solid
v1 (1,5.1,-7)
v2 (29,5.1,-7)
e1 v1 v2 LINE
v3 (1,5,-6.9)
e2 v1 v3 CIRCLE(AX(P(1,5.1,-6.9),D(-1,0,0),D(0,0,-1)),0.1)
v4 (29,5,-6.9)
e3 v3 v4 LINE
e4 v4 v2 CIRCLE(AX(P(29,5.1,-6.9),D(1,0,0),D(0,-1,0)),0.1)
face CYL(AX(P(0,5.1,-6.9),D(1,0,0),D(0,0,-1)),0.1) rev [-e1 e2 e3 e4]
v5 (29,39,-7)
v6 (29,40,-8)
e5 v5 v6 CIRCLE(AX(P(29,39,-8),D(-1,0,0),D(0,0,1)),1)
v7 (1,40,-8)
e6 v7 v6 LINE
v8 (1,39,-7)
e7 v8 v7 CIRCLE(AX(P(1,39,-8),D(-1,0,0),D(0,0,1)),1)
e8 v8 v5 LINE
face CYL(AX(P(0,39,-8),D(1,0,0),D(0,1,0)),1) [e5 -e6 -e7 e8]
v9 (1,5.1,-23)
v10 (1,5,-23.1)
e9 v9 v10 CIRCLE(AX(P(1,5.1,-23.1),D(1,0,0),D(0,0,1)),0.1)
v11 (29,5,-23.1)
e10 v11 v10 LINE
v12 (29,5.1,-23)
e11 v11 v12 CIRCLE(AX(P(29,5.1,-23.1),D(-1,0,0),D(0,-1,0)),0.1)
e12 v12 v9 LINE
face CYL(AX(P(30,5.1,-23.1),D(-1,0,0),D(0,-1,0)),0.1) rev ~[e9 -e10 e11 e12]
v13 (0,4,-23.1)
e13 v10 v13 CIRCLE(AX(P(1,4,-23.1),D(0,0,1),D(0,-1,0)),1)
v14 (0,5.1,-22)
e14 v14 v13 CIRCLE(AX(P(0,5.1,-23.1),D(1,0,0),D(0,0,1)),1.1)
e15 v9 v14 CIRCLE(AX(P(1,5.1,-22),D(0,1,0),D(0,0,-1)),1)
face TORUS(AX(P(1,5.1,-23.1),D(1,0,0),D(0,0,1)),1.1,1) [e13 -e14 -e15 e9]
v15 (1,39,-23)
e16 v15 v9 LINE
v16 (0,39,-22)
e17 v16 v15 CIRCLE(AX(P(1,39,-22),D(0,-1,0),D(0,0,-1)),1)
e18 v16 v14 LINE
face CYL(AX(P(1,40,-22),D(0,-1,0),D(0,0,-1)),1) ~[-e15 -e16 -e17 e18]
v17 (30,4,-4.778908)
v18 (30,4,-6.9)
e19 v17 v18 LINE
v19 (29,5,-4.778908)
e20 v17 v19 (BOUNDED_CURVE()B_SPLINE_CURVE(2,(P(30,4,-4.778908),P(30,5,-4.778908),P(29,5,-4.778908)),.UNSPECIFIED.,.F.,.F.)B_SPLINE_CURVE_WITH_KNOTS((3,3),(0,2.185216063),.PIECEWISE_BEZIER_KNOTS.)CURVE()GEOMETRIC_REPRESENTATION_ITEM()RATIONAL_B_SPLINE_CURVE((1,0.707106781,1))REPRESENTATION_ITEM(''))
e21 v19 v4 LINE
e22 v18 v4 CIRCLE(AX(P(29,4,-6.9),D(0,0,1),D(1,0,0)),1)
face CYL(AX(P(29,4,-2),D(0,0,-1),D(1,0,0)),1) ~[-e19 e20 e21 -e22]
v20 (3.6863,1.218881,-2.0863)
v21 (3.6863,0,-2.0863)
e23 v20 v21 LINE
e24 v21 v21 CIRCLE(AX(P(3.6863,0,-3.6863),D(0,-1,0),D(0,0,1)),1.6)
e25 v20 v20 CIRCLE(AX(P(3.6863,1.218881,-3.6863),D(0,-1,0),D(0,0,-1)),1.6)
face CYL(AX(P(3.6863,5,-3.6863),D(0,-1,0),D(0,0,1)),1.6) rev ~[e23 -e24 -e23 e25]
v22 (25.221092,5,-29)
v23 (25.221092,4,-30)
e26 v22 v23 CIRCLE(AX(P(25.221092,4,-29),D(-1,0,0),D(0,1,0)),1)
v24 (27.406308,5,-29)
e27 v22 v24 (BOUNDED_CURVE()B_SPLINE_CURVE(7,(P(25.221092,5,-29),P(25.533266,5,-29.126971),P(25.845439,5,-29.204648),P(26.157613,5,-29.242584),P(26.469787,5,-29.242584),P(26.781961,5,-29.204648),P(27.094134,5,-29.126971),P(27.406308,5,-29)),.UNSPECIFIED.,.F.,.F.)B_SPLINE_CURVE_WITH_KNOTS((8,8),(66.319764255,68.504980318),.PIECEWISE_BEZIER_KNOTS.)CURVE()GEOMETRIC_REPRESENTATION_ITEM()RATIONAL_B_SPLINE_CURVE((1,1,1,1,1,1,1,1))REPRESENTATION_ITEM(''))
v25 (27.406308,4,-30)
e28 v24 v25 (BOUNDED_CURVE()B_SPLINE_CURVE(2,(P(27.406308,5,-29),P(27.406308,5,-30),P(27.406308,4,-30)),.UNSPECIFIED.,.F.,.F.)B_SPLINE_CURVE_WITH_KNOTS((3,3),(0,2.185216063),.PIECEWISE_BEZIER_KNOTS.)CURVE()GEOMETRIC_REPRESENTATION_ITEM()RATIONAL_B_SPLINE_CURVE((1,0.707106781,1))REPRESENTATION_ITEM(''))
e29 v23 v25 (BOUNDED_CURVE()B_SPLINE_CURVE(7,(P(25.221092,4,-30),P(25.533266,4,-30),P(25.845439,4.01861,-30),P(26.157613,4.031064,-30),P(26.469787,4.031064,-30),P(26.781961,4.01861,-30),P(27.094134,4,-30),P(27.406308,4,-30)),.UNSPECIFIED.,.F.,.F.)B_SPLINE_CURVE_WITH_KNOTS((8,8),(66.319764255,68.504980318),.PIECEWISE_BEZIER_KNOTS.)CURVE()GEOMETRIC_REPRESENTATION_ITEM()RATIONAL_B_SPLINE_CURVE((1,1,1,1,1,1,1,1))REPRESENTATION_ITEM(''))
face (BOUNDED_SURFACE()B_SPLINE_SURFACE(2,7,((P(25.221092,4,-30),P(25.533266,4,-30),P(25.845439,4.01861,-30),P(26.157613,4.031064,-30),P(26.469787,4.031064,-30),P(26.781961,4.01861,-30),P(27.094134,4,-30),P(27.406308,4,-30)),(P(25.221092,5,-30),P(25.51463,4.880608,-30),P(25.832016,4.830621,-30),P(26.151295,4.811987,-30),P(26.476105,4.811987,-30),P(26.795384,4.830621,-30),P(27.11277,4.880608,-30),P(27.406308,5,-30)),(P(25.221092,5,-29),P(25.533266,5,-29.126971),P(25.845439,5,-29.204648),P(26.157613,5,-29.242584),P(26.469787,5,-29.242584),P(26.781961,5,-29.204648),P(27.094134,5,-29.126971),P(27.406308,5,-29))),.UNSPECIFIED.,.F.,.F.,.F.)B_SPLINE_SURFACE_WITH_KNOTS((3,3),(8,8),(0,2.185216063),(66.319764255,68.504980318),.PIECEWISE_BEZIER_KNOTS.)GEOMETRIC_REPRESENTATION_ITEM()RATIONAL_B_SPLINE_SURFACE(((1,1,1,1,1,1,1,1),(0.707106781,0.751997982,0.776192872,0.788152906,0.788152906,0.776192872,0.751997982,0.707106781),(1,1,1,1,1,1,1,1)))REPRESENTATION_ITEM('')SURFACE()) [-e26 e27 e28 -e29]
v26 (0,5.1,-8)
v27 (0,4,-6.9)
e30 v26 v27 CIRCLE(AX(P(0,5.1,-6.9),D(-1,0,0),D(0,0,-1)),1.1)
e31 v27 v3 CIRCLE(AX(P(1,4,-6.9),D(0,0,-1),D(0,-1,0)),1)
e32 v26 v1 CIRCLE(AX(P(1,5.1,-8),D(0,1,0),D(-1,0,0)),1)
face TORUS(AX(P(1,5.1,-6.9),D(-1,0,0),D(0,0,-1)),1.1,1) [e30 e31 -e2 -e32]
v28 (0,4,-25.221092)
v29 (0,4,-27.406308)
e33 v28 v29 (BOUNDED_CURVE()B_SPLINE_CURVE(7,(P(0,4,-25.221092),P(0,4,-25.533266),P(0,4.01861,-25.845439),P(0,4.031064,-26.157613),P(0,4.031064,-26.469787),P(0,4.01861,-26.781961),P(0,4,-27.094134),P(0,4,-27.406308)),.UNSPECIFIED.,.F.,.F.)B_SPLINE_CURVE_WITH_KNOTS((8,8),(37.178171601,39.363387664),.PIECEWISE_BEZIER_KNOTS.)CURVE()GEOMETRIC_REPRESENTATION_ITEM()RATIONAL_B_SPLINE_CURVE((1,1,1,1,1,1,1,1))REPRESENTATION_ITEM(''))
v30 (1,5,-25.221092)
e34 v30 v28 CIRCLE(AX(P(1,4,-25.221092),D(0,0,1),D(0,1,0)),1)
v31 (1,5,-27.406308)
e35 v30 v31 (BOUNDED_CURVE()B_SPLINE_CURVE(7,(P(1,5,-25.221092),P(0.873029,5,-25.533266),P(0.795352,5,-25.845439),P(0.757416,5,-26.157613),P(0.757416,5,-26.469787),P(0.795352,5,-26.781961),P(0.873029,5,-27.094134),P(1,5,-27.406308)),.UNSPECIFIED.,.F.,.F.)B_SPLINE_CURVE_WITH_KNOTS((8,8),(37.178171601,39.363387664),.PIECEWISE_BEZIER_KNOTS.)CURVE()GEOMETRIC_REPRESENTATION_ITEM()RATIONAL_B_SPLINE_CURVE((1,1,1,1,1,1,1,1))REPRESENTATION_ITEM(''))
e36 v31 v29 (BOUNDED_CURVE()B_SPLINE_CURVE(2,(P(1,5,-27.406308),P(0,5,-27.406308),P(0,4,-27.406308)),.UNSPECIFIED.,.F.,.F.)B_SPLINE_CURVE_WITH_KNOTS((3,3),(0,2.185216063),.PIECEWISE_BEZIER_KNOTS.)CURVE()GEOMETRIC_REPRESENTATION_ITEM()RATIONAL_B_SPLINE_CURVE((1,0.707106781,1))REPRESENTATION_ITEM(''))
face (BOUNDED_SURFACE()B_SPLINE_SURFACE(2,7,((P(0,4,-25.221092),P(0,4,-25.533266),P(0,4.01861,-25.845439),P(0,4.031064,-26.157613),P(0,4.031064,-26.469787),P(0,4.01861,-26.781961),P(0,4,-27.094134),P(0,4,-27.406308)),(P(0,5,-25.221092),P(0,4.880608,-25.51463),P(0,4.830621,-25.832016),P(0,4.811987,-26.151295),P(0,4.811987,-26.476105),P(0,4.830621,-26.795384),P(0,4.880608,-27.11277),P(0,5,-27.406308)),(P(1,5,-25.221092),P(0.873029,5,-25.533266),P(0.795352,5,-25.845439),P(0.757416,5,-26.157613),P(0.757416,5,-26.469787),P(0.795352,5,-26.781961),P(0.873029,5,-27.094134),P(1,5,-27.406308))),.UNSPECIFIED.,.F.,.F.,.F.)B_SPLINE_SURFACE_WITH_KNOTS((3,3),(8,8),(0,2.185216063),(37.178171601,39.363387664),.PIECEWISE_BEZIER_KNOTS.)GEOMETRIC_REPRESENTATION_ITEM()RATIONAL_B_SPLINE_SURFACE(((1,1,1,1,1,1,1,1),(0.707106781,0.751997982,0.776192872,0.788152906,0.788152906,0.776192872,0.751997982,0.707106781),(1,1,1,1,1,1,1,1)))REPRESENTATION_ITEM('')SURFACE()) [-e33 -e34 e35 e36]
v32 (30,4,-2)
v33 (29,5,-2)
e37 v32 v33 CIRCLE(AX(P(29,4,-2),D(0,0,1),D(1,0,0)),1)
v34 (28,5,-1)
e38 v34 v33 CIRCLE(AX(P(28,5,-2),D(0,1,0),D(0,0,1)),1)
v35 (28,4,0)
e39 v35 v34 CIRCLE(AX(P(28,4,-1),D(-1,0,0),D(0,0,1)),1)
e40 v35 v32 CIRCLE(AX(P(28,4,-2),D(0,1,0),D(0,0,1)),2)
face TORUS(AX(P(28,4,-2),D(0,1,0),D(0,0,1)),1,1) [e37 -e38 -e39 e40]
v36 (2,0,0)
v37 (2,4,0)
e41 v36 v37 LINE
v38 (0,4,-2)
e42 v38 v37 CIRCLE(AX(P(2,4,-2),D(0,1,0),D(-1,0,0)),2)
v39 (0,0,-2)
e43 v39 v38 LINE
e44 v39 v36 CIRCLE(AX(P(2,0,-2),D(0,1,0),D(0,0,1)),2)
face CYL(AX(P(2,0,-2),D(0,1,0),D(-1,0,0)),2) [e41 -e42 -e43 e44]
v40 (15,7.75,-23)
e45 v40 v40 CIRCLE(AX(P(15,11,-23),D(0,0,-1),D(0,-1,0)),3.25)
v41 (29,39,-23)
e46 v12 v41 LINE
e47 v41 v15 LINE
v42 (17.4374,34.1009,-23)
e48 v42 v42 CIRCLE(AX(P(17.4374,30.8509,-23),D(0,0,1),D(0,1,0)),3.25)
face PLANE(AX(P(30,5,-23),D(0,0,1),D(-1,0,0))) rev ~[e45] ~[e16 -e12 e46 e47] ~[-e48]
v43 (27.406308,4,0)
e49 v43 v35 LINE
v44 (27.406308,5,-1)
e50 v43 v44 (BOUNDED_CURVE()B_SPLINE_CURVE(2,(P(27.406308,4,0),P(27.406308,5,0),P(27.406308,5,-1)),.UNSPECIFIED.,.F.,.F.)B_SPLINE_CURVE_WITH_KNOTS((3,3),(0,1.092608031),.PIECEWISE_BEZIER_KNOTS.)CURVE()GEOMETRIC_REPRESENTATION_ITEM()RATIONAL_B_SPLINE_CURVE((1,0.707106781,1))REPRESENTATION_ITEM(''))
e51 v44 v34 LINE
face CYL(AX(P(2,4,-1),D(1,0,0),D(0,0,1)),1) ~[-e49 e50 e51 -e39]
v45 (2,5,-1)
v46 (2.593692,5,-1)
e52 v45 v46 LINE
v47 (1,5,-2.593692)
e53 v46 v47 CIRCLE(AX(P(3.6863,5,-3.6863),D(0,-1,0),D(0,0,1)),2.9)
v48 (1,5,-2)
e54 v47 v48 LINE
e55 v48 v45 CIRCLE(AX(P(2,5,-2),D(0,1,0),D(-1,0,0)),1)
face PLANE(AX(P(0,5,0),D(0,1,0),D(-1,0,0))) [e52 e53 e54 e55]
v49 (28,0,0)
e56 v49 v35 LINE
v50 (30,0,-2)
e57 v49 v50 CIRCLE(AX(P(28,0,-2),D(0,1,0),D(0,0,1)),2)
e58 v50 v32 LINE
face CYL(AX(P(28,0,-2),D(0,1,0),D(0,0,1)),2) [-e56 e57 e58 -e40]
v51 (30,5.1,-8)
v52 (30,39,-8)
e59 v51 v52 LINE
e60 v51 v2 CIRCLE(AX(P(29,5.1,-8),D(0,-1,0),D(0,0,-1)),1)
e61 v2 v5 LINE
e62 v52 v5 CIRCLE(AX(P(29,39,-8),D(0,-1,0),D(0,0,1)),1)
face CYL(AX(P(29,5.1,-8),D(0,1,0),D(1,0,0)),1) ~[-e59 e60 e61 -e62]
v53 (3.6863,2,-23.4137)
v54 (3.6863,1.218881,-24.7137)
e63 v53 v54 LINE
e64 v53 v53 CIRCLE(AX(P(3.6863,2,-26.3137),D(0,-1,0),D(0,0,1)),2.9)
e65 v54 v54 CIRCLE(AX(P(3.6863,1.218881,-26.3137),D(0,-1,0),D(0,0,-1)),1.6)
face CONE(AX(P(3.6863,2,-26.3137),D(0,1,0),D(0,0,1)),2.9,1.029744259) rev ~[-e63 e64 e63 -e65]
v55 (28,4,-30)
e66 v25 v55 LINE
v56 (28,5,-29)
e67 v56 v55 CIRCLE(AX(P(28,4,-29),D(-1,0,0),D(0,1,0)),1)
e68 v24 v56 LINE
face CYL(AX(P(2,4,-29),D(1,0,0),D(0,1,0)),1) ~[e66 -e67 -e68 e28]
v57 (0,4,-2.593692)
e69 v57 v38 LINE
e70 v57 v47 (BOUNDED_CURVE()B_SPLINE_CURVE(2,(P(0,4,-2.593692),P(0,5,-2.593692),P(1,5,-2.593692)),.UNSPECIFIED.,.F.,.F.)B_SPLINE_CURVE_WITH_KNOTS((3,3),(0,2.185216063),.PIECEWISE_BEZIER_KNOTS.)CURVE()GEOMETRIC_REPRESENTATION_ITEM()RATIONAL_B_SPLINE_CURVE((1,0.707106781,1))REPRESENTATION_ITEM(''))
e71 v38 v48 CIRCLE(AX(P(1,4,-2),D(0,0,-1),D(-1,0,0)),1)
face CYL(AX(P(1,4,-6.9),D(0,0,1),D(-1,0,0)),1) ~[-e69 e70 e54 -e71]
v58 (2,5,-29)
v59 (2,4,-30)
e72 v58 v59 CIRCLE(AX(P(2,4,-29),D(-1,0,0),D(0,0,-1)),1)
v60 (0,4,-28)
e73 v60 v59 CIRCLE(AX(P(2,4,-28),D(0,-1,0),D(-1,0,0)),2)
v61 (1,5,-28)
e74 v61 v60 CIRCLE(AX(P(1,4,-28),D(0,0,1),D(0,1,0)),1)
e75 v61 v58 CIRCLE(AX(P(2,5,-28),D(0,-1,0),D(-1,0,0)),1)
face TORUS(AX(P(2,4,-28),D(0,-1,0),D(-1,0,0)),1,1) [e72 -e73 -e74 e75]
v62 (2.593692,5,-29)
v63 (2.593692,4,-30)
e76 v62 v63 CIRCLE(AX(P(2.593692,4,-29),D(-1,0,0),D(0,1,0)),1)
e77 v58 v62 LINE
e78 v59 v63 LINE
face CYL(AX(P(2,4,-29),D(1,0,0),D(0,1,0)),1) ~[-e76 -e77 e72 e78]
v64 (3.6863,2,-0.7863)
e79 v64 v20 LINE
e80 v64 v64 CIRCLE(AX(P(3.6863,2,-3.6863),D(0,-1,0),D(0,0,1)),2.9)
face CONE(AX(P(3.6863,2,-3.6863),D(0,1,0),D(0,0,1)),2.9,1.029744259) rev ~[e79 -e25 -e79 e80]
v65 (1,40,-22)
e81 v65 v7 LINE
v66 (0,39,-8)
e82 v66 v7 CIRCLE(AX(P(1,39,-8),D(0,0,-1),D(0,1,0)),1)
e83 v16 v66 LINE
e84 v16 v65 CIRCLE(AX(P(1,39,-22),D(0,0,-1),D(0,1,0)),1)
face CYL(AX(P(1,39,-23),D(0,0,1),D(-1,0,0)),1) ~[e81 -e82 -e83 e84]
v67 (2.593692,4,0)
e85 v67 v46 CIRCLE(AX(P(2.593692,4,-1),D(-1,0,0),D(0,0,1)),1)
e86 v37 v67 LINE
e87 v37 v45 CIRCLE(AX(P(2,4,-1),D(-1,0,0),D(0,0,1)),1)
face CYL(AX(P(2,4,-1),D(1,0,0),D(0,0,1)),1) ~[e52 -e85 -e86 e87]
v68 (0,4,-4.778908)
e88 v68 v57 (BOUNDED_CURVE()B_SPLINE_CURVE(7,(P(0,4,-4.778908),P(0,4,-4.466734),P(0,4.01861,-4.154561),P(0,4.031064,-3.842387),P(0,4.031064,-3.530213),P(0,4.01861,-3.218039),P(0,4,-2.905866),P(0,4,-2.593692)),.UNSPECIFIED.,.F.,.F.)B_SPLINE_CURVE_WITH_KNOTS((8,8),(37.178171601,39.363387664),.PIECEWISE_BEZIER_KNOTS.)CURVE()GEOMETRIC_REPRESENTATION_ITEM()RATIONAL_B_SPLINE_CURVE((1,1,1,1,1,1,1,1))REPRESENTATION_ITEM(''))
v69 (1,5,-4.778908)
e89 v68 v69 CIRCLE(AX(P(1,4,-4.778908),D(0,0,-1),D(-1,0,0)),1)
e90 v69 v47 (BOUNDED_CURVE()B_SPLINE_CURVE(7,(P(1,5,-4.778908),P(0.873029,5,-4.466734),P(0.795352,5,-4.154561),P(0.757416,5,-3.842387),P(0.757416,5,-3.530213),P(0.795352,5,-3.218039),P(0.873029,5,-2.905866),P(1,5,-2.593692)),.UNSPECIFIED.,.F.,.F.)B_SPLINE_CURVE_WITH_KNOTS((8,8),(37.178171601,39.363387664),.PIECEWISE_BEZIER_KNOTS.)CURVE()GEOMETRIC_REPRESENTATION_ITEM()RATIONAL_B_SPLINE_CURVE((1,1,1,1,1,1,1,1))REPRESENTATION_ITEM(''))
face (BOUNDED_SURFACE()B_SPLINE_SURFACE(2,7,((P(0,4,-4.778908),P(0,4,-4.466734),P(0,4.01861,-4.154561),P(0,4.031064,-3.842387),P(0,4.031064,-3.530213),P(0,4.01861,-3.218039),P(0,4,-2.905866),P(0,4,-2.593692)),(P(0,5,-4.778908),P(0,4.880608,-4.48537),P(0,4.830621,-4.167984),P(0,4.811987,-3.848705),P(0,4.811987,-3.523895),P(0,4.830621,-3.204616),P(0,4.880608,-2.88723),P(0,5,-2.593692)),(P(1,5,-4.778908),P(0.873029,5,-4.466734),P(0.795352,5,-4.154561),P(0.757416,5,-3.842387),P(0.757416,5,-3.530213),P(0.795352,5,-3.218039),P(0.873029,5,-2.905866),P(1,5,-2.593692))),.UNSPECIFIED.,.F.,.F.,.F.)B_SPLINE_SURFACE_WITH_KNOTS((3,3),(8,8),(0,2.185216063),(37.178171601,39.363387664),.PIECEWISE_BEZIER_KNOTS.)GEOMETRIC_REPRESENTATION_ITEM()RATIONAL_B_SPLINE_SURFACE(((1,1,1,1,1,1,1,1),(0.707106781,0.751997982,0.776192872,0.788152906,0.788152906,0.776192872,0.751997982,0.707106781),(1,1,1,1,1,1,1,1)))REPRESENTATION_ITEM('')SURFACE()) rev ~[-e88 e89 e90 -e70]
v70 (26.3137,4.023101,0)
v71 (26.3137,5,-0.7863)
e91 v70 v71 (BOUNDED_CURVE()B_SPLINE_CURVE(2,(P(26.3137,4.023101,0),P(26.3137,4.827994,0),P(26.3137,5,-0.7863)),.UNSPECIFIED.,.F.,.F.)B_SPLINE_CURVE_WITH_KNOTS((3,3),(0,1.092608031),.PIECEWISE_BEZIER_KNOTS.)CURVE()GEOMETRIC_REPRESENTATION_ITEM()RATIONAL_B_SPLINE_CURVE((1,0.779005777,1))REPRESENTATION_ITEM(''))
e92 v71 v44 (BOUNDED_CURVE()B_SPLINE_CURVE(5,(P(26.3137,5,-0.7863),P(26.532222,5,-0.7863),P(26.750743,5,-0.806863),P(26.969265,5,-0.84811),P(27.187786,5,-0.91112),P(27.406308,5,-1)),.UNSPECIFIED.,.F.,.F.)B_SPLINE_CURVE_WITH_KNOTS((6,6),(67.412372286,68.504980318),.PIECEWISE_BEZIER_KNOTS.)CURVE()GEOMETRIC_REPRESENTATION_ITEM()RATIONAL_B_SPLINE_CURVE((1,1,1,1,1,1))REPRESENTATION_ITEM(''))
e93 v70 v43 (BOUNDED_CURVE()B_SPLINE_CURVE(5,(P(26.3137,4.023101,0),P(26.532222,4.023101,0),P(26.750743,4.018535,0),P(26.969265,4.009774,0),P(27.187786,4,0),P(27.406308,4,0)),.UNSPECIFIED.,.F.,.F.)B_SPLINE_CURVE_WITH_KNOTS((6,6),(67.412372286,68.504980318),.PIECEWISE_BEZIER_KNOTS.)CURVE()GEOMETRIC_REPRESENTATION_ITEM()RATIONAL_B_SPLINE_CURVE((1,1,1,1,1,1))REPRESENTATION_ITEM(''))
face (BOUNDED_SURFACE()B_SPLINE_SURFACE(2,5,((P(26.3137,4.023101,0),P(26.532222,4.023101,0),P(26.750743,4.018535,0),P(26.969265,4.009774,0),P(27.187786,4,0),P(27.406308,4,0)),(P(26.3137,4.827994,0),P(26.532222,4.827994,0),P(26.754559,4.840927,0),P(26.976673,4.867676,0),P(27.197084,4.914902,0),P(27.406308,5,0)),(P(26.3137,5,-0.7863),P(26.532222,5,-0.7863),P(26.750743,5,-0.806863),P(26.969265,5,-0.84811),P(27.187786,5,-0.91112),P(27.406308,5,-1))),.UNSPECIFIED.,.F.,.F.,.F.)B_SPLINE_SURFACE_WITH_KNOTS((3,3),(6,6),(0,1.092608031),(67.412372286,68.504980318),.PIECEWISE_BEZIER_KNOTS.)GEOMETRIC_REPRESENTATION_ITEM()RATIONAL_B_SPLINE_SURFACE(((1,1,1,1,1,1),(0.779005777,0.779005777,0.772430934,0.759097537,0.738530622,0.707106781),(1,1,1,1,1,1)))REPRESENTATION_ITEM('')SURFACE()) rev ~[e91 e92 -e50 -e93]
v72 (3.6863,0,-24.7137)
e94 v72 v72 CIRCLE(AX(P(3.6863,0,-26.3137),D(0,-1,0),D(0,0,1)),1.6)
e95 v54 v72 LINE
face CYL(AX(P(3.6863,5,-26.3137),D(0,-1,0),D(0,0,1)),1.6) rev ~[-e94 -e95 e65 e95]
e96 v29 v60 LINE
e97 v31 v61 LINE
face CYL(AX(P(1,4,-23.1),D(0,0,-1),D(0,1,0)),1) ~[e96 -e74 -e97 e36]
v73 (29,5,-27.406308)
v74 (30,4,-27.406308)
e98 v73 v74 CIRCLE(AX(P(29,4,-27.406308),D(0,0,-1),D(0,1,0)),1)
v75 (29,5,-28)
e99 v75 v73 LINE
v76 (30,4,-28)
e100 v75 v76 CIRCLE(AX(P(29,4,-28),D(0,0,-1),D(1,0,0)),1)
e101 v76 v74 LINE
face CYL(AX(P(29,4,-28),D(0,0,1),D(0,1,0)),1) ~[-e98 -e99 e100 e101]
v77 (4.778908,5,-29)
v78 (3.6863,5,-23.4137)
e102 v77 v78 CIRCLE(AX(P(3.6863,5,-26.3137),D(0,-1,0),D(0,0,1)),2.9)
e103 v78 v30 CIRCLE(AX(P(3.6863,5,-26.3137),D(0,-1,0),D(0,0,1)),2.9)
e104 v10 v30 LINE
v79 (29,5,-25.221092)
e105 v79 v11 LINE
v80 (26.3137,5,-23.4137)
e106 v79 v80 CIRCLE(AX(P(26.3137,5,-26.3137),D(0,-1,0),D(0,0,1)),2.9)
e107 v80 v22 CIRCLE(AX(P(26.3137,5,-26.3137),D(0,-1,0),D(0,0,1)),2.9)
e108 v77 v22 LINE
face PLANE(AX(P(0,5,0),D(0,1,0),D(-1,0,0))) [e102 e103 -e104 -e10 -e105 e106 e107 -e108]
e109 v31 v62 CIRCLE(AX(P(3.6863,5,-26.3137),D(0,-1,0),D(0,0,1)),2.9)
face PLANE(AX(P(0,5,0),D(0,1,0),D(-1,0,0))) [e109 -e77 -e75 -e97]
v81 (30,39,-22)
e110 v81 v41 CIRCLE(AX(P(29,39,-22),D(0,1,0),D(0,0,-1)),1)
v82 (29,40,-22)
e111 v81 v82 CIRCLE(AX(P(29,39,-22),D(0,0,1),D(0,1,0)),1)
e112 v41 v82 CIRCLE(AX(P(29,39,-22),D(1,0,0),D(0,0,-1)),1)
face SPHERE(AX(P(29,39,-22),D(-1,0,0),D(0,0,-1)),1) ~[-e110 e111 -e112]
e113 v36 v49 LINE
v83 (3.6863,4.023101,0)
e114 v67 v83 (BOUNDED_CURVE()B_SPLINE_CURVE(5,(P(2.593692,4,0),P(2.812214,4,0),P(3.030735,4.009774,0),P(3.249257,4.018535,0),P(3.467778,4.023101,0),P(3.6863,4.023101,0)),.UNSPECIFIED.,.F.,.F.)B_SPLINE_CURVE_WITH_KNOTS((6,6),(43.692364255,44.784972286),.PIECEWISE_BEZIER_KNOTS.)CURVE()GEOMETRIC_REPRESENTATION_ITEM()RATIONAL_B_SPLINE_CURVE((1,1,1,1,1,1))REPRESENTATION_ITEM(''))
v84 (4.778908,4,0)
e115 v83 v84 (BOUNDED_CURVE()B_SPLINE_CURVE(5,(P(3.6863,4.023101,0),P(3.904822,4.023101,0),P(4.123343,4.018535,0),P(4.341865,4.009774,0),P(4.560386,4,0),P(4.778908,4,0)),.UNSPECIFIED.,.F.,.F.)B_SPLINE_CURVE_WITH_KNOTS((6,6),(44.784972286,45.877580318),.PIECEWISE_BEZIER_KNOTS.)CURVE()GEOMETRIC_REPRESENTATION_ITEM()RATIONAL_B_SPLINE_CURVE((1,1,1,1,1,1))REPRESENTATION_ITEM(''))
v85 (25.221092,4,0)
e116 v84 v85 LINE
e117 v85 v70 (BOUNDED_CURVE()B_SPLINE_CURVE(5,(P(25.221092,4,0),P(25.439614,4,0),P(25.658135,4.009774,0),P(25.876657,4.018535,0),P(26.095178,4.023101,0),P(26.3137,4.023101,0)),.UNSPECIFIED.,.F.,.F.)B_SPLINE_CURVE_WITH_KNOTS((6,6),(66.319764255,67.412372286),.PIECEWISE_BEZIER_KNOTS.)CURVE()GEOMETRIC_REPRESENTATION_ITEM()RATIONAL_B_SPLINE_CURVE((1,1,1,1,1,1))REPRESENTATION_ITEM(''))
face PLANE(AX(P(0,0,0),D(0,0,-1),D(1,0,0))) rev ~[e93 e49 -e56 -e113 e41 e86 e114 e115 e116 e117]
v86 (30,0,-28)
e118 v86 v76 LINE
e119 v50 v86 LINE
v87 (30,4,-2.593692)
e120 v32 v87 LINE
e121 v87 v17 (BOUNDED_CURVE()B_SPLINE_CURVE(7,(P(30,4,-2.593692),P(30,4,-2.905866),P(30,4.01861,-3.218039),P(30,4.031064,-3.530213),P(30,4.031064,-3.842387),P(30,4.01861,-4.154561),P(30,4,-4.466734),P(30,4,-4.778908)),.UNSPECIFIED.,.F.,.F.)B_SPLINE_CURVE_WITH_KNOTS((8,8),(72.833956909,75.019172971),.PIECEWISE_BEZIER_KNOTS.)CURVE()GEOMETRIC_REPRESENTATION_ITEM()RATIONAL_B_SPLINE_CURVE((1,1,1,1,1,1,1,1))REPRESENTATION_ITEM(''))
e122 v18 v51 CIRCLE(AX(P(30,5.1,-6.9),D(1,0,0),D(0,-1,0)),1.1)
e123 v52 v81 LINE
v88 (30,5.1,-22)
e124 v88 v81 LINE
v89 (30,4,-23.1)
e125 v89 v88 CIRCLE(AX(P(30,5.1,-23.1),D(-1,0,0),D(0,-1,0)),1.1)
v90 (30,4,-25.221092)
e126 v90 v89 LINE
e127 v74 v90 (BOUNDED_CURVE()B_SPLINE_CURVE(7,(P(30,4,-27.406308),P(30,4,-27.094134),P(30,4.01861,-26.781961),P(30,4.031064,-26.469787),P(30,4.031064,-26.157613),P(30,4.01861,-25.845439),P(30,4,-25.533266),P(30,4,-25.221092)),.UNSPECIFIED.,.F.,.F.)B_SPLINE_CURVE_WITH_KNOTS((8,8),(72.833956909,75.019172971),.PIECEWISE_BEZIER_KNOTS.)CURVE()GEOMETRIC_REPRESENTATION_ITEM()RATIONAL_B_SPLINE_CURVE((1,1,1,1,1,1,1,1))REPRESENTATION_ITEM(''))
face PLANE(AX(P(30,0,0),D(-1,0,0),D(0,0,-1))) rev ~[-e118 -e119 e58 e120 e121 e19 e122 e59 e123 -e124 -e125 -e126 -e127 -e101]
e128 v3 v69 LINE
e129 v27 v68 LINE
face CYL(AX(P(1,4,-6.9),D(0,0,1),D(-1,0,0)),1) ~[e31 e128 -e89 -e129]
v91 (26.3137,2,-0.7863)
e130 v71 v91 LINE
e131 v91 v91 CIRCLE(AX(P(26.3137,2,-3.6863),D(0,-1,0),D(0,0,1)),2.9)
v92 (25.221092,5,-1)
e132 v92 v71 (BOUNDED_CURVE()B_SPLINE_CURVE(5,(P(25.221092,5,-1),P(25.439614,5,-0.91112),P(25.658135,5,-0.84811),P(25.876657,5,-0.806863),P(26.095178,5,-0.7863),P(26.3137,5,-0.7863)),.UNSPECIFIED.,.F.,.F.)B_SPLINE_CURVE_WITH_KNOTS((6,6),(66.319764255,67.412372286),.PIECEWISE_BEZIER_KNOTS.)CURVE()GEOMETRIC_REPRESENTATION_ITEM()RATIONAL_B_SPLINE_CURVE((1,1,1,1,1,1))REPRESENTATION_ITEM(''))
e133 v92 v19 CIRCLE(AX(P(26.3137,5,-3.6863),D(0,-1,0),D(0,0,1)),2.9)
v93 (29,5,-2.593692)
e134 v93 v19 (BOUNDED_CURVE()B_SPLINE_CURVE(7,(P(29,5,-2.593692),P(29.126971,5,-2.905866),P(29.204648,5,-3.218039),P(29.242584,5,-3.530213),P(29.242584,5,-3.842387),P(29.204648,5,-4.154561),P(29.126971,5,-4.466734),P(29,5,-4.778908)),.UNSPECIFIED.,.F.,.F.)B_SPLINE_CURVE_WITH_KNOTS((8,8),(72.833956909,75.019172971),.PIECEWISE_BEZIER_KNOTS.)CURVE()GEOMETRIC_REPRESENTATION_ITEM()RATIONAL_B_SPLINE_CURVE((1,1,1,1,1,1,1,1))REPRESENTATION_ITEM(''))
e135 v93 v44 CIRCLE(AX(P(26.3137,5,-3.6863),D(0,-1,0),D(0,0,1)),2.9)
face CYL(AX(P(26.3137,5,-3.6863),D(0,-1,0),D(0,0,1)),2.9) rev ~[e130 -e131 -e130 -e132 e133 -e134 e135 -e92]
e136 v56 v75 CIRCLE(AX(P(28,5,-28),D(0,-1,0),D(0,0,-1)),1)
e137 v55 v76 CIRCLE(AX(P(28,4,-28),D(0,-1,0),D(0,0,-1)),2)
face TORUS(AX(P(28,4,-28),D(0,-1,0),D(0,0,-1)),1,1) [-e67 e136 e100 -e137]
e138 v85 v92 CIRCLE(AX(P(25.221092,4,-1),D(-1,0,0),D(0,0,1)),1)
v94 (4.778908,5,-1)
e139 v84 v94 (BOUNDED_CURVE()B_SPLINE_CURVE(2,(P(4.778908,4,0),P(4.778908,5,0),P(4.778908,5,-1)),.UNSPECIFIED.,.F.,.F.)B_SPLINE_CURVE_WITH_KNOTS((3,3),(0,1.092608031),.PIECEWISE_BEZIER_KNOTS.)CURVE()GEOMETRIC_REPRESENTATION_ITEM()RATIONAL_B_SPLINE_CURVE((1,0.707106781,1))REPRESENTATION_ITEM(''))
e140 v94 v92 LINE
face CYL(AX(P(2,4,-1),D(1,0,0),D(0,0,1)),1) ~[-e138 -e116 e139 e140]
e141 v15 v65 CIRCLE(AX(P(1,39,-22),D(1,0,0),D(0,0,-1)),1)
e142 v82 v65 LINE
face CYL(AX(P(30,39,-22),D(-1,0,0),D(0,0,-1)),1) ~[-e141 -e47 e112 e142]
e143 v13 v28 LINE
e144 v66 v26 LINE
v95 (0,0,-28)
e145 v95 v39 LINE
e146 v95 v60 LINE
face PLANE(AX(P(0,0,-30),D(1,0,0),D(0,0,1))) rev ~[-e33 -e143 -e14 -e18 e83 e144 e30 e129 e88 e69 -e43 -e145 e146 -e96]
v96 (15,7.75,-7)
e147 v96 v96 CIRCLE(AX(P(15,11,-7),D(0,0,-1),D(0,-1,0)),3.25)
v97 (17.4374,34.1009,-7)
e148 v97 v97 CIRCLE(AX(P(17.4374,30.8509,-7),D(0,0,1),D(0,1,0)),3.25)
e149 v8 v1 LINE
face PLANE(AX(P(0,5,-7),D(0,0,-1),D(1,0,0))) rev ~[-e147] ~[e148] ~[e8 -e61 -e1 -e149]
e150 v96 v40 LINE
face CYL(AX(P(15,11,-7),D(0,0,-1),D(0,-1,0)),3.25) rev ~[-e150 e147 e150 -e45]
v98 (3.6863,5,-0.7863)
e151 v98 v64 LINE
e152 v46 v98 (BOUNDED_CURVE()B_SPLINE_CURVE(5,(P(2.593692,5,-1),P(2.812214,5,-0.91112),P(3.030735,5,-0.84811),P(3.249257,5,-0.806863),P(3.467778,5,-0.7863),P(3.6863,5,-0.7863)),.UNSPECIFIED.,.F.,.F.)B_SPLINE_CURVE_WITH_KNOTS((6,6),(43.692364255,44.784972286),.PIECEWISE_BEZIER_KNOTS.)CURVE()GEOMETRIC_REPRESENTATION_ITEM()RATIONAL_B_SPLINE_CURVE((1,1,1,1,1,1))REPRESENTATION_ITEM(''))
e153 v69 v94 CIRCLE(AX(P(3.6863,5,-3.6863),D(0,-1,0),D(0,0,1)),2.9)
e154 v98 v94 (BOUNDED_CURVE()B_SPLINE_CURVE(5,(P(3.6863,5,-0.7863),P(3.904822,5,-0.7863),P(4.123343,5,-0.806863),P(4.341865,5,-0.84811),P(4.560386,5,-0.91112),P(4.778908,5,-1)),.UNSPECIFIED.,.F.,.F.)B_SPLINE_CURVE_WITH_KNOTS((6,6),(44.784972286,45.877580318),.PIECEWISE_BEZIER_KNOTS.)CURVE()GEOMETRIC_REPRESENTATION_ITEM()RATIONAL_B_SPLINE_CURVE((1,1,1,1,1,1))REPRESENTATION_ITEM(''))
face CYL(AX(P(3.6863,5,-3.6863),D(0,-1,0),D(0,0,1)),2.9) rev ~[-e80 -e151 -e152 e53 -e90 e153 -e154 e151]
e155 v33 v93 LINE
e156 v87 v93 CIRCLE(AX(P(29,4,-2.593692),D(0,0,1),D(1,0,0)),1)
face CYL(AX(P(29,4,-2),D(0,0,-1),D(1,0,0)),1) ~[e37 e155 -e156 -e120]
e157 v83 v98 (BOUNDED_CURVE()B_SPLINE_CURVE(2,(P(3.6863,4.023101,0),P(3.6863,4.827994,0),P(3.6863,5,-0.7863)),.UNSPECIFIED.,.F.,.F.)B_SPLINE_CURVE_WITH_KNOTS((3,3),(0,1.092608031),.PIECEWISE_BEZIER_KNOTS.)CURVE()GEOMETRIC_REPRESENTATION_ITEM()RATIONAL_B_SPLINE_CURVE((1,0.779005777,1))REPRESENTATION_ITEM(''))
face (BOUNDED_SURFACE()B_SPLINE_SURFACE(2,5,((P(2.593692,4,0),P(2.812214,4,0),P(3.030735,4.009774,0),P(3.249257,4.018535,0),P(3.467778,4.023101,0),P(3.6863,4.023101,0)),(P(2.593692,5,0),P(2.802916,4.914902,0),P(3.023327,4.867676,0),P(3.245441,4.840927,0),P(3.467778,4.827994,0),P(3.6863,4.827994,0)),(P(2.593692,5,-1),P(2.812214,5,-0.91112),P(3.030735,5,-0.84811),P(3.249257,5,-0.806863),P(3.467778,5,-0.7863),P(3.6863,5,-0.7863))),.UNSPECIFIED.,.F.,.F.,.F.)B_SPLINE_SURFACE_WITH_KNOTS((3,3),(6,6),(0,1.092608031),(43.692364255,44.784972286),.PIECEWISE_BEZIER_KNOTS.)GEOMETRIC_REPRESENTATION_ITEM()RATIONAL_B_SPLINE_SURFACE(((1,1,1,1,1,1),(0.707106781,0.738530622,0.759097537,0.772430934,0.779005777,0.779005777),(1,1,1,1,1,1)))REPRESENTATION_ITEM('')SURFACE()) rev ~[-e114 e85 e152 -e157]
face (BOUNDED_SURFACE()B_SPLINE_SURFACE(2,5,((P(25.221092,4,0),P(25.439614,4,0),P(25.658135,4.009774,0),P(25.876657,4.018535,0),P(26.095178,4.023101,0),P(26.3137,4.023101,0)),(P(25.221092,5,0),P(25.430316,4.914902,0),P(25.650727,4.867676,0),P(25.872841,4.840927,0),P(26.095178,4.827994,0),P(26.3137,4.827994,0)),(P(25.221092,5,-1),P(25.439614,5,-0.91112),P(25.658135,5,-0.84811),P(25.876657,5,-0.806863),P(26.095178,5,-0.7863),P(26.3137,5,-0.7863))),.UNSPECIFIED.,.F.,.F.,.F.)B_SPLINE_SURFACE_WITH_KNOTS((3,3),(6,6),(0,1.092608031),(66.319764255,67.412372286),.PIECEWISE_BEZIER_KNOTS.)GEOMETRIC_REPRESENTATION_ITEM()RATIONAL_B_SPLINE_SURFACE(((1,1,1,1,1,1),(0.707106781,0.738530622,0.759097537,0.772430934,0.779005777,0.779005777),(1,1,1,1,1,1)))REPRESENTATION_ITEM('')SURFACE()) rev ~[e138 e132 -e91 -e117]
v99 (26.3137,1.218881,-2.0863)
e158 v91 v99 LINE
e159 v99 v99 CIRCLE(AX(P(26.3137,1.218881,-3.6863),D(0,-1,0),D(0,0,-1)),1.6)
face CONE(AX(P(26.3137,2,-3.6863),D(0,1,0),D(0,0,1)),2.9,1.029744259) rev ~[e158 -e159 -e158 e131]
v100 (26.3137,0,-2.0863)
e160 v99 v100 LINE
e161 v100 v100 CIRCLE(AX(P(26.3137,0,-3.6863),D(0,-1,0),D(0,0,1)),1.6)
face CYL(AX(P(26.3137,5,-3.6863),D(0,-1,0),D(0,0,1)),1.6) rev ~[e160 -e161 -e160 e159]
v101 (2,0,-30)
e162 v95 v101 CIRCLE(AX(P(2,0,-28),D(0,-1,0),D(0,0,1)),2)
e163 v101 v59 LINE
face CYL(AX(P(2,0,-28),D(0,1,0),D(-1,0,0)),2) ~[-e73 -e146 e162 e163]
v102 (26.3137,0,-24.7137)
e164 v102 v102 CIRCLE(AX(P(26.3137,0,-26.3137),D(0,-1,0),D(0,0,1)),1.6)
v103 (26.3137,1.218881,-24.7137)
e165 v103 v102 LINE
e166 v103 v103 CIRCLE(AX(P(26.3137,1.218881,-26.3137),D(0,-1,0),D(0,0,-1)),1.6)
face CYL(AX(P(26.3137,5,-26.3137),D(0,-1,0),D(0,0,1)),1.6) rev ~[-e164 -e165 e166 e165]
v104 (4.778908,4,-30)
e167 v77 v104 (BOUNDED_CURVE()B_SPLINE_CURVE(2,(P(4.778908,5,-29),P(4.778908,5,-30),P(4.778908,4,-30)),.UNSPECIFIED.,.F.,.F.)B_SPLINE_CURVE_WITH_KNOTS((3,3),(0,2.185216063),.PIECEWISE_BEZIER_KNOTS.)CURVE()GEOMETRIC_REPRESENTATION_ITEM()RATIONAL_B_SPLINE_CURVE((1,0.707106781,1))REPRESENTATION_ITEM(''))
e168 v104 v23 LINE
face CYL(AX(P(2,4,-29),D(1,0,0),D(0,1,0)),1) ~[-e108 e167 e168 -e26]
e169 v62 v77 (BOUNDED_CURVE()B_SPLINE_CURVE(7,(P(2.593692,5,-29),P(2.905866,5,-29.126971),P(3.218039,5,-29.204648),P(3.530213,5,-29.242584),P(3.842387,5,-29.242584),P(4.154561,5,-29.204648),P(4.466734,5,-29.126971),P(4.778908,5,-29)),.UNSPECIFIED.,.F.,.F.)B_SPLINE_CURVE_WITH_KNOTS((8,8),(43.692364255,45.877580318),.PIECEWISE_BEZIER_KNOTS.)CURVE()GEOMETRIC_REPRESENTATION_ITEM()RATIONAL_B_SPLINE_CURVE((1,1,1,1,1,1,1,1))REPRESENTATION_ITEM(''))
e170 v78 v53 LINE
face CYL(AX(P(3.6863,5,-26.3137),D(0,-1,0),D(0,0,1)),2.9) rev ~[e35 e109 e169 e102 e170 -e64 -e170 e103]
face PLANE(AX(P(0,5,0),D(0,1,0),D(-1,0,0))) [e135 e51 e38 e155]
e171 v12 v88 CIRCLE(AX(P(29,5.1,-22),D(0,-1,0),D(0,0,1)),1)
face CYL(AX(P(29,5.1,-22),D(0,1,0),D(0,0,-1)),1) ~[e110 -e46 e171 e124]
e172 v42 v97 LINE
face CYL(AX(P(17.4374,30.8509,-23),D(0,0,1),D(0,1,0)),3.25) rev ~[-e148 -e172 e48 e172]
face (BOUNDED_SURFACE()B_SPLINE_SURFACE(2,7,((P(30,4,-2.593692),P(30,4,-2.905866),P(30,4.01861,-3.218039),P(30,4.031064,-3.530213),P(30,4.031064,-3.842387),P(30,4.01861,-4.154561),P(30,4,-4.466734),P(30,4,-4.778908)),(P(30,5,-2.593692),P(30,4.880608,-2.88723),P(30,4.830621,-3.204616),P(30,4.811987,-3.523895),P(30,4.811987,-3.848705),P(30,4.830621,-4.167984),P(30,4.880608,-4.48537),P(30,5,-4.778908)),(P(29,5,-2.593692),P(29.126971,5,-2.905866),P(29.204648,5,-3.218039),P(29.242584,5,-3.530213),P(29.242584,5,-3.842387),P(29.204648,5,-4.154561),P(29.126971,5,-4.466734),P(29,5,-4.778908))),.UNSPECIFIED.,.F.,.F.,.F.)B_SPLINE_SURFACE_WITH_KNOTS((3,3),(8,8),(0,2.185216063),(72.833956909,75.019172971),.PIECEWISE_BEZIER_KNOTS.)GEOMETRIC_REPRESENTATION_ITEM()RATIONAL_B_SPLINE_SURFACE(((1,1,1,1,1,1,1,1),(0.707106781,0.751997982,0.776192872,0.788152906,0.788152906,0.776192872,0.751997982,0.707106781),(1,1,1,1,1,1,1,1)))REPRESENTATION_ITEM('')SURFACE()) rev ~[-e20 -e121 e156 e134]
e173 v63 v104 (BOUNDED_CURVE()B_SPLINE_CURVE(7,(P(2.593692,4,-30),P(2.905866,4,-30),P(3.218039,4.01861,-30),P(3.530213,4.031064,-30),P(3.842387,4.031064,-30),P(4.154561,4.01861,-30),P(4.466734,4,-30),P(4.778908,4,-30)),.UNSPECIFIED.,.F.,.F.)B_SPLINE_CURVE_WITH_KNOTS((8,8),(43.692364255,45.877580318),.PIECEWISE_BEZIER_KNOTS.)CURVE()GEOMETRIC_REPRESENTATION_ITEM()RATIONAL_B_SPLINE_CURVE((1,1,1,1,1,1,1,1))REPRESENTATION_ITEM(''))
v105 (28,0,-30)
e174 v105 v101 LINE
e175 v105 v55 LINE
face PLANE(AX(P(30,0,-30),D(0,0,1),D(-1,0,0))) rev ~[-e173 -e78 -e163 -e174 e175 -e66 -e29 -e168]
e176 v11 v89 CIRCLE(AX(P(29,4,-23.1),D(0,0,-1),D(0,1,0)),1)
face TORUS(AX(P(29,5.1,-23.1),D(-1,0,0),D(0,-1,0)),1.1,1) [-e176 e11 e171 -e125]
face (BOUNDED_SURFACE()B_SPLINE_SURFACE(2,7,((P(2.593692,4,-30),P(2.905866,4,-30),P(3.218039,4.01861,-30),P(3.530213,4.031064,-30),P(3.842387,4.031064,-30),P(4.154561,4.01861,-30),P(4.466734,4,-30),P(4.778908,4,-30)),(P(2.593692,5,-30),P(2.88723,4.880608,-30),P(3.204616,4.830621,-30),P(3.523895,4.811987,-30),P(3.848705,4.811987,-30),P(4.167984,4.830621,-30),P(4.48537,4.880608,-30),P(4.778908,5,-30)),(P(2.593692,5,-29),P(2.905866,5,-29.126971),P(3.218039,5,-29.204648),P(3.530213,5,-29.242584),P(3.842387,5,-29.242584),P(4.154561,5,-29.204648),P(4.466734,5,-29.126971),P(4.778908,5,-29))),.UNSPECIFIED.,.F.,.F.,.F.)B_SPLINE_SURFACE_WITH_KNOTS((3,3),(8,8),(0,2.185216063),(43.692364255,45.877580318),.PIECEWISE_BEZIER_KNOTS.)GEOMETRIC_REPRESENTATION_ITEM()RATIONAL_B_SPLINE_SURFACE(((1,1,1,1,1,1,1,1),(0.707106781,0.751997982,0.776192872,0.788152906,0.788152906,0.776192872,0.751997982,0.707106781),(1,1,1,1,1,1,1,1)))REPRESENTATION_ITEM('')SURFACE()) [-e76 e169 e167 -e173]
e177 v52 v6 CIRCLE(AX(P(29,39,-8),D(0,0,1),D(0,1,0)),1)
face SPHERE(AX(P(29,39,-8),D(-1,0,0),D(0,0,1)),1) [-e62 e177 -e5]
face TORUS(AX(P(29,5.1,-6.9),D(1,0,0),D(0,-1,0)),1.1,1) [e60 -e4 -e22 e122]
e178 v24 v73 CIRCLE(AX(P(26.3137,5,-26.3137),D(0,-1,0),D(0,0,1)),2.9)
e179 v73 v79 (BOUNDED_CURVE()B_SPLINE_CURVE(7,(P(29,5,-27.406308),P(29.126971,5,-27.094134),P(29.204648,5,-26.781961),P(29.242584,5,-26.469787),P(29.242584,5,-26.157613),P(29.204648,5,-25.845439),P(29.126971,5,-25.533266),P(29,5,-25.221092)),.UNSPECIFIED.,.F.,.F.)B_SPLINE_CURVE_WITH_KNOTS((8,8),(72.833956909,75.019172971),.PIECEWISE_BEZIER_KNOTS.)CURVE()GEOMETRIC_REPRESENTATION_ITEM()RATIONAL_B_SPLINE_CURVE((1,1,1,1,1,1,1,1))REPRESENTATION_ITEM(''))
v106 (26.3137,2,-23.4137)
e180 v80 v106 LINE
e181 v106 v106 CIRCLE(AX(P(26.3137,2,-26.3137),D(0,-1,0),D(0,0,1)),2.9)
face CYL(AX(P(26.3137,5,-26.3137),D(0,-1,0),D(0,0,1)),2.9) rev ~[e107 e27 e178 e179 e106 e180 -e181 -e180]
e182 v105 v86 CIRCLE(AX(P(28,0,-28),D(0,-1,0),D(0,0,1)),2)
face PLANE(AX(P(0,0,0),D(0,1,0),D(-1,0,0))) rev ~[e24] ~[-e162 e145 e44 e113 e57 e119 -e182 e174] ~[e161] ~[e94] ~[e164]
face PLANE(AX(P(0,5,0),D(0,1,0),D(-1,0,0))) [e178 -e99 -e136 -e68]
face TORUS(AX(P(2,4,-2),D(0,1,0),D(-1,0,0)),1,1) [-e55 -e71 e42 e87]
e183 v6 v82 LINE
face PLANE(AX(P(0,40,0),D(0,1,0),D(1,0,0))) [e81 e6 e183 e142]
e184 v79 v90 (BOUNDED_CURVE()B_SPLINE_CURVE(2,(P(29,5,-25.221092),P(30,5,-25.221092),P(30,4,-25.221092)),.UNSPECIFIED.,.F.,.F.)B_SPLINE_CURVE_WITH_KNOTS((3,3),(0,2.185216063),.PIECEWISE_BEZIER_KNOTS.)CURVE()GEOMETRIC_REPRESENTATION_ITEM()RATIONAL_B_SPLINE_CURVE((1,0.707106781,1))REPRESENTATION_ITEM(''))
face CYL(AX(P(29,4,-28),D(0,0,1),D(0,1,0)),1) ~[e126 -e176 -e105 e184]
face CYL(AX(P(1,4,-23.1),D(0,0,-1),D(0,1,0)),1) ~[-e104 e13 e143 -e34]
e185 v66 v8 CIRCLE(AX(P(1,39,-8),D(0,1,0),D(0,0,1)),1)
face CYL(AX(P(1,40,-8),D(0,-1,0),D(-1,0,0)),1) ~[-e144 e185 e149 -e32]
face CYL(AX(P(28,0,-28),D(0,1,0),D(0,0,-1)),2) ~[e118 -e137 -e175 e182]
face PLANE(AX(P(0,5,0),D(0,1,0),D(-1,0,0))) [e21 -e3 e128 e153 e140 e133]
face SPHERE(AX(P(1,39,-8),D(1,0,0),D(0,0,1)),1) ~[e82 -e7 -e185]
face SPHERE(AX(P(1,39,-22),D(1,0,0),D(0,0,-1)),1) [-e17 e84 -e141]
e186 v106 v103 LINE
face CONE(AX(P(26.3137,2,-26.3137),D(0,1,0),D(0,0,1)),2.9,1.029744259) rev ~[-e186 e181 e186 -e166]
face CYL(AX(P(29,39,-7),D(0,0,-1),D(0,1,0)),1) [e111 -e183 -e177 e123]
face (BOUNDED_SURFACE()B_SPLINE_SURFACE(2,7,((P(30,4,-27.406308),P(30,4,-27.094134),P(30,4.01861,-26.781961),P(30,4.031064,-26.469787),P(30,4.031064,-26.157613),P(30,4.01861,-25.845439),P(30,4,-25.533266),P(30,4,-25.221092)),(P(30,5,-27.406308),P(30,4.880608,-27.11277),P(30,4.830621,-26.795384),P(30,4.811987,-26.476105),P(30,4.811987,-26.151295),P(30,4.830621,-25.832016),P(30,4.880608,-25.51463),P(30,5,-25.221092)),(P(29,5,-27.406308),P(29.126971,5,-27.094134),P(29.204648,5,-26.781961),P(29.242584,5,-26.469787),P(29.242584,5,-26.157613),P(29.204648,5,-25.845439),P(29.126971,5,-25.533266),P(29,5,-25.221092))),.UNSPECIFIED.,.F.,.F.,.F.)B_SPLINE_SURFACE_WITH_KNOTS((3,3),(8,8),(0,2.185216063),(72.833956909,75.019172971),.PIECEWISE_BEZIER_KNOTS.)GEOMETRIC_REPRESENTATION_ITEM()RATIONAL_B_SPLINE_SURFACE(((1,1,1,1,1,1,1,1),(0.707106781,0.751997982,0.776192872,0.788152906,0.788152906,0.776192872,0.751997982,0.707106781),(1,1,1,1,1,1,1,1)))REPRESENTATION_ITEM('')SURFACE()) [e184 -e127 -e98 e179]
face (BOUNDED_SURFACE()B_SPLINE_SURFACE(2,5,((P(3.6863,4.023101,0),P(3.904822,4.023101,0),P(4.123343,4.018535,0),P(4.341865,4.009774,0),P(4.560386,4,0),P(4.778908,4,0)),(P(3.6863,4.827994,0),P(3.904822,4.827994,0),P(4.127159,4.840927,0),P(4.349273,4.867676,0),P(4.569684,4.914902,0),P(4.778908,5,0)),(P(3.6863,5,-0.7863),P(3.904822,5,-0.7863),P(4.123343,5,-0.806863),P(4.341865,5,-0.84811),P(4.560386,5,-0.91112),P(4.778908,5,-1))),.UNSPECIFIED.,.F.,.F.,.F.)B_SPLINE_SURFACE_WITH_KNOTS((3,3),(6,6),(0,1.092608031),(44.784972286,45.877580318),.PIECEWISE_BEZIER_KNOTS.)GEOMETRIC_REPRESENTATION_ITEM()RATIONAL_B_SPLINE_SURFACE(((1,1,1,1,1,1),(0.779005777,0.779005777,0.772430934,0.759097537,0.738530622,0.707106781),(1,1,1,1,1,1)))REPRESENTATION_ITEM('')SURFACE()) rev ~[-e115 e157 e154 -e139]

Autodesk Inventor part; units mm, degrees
ref_plane "YZ Plane" through (0, 0, 0) normal (1, 0, 0) x (0, 1, 0)
ref_plane "XZ Plane" through (0, 0, 0) normal (0, 1, 0) x (-1, 0, 0)
ref_plane "XY Plane" through (0, 0, 0) normal (0, 0, 1) x (1, 0, 0)
sketch "スケッチ1" plane through (0, 0, 0) normal (0, 1, 0) x (-1, 0, 0)
  line L0 (0, 0) -> (-30, 0)
  line L1 (-30, 0) -> (-30, -30)
  line L2 (-30, -30) -> (0, -30)
  line L3 (0, -30) -> (0, 0)
  dimension "d0" = 30
  dimension "d1" = 30
extrude "押し出し1" add sketch "スケッチ1" along normal blind 5
sketch "スケッチ2" plane through (0, 5, 0) normal (0, 1, 0) x (1, 0, 0)
  line L0 (30, 0) -> (30, 30) projected
  line L1 (30, 30) -> (0, 30) projected
  line L2 (0, 30) -> (30, 0) construction
  line L3 (30, 30) -> (0, 0) construction
  circle A0 centre (15, 15) radius 16 construction
  point P0 (26.3137, 26.3137)
  point P1 (26.3137, 3.6863)
  point P2 (3.6863, 3.6863)
  point P3 (3.6863, 26.3137)
  point P4 (15, 15)
  dimension "d12" = 32
  dimension "d76" = 0
hole "穴2" at (26.3137, 5, -26.3137) at (26.3137, 5, -3.6863) at (3.6863, 5, -3.6863) at (3.6863, 5, -26.3137) direction (0, -1, 0) diameter 3.2 end through all
sketch "スケッチ3" plane through (0, 5, 0) normal (0, 1, 0) x (1, 0, 0)
  circle A0 centre (26.3137, 3.6863) radius 1.6 projected
  circle A1 centre (3.6863, 3.6863) radius 1.6 projected
  circle A2 centre (3.6863, 26.3137) radius 1.6 projected
  circle A3 centre (26.3137, 26.3137) radius 1.6 projected
  point P0 (0, 0)
hole "穴3" at (26.3137, 5, -3.6863) at (3.6863, 5, -3.6863) at (3.6863, 5, -26.3137) at (26.3137, 5, -26.3137) direction (0, -1, 0) diameter 5.8 depth 3 tip angle 118
sketch "スケッチ4" plane through (0, 5, 0) normal (0, 1, 0) x (1, 0, 0)
  line L0 (0, 30) -> (0, 0) projected
  line L1 (30, 0) -> (30, 30) projected
  line L2 (0, 7) -> (30, 7)
  line L3 (30, 7) -> (30, 23)
  line L4 (30, 23) -> (0, 23)
  line L5 (0, 23) -> (0, 7)
  line L6 (0, 0) -> (30, 0) projected
  point P0 (0, 23)
  dimension "d27" = 16
  dimension "d28" = 7
extrude "押し出し2" add sketch "スケッチ4" along normal blind 35 contours L4 L1 L2 L0
fillet "フィレット6" radius 2 4 edges at (30, 2.5, 0) (0, 2.5, 0) (0, 2.5, -30) (30, 2.5, -30)
sketch "スケッチ8" plane through (0, 5, -7) normal (0, 0, 1) x (1, 0, 0)
  line L0 (0, 35) -> (30, 35) projected
  line L1 (2, 0) -> (28, 0) projected
  point P0 (0, -5)
  point P1 (15, 6)
  point P2 (15, 35)
  point P3 (3.089, 0)
  point P4 (23.911, 0)
  dimension "d61" = 6
hole "穴6" at (15, 11, -7) direction (0, 0, -1) diameter 6.5 end through all
fillet "フィレット7" [suppressed]
fillet "フィレット8" radius 0.1 2 edges at (15, 5, -23) (15, 5, -7)
fillet "フィレット9" radius 1 22 edges at (15, 40, -23) (15, 40, -7) (30, 5.0293, -23.0293) (30, 5, -25.55) (29.4142, 5, -29.4142) (15, 5, -30) (0.5858, 5, -29.4142) (0, 5, -25.55) (0, 5.0293, -23.0293) (0, 22.55, -23) (30, 22.55, -23) (0, 5.0293, -6.9707) (0, 5, -4.45) (0.5858, 5, -0.5858) (15, 5, 0) (29.4142, 5, -0.5858) (30, 5, -4.45) (30, 5.0293, -6.9707) (30, 22.55, -7) (0, 22.55, -7) (30, 40, -15) (0, 40, -15)
fillet "フィレット10" [suppressed]
sketch "スケッチ10" plane through (29, 5.1, -23) normal (0, 0, -1) x (-1, 0, 0)
  line L0 (0, 34.9) -> (28, 34.9) construction
  circle A0 centre (14, 5.9) radius 3.25 construction
  line L1 (14, 34.9) -> (14, 5.9) construction
  arc A1 (9, 33.9) -> (0, 24.9) centre (9, 24.9) ccw construction
  line L2 (14, 5.9) -> (10.7733, 32.1791) construction
  circle A2 centre (14, 5.9) radius 20 construction
  point P0 (29, -5.1)
  point P1 (9, 34.9)
  point P2 (19, 34.9)
  point P3 (11.5626, 25.7509)
  point P4 (-1, 34.9)
  point P5 (29, 34.9)
  dimension "d85" = 40
  dimension "d84" = 7
hole "穴7" at (17.4374, 30.8509, -23) direction (0, 0, 1) diameter 6.5 end through all
properties part number "NewPart2"
